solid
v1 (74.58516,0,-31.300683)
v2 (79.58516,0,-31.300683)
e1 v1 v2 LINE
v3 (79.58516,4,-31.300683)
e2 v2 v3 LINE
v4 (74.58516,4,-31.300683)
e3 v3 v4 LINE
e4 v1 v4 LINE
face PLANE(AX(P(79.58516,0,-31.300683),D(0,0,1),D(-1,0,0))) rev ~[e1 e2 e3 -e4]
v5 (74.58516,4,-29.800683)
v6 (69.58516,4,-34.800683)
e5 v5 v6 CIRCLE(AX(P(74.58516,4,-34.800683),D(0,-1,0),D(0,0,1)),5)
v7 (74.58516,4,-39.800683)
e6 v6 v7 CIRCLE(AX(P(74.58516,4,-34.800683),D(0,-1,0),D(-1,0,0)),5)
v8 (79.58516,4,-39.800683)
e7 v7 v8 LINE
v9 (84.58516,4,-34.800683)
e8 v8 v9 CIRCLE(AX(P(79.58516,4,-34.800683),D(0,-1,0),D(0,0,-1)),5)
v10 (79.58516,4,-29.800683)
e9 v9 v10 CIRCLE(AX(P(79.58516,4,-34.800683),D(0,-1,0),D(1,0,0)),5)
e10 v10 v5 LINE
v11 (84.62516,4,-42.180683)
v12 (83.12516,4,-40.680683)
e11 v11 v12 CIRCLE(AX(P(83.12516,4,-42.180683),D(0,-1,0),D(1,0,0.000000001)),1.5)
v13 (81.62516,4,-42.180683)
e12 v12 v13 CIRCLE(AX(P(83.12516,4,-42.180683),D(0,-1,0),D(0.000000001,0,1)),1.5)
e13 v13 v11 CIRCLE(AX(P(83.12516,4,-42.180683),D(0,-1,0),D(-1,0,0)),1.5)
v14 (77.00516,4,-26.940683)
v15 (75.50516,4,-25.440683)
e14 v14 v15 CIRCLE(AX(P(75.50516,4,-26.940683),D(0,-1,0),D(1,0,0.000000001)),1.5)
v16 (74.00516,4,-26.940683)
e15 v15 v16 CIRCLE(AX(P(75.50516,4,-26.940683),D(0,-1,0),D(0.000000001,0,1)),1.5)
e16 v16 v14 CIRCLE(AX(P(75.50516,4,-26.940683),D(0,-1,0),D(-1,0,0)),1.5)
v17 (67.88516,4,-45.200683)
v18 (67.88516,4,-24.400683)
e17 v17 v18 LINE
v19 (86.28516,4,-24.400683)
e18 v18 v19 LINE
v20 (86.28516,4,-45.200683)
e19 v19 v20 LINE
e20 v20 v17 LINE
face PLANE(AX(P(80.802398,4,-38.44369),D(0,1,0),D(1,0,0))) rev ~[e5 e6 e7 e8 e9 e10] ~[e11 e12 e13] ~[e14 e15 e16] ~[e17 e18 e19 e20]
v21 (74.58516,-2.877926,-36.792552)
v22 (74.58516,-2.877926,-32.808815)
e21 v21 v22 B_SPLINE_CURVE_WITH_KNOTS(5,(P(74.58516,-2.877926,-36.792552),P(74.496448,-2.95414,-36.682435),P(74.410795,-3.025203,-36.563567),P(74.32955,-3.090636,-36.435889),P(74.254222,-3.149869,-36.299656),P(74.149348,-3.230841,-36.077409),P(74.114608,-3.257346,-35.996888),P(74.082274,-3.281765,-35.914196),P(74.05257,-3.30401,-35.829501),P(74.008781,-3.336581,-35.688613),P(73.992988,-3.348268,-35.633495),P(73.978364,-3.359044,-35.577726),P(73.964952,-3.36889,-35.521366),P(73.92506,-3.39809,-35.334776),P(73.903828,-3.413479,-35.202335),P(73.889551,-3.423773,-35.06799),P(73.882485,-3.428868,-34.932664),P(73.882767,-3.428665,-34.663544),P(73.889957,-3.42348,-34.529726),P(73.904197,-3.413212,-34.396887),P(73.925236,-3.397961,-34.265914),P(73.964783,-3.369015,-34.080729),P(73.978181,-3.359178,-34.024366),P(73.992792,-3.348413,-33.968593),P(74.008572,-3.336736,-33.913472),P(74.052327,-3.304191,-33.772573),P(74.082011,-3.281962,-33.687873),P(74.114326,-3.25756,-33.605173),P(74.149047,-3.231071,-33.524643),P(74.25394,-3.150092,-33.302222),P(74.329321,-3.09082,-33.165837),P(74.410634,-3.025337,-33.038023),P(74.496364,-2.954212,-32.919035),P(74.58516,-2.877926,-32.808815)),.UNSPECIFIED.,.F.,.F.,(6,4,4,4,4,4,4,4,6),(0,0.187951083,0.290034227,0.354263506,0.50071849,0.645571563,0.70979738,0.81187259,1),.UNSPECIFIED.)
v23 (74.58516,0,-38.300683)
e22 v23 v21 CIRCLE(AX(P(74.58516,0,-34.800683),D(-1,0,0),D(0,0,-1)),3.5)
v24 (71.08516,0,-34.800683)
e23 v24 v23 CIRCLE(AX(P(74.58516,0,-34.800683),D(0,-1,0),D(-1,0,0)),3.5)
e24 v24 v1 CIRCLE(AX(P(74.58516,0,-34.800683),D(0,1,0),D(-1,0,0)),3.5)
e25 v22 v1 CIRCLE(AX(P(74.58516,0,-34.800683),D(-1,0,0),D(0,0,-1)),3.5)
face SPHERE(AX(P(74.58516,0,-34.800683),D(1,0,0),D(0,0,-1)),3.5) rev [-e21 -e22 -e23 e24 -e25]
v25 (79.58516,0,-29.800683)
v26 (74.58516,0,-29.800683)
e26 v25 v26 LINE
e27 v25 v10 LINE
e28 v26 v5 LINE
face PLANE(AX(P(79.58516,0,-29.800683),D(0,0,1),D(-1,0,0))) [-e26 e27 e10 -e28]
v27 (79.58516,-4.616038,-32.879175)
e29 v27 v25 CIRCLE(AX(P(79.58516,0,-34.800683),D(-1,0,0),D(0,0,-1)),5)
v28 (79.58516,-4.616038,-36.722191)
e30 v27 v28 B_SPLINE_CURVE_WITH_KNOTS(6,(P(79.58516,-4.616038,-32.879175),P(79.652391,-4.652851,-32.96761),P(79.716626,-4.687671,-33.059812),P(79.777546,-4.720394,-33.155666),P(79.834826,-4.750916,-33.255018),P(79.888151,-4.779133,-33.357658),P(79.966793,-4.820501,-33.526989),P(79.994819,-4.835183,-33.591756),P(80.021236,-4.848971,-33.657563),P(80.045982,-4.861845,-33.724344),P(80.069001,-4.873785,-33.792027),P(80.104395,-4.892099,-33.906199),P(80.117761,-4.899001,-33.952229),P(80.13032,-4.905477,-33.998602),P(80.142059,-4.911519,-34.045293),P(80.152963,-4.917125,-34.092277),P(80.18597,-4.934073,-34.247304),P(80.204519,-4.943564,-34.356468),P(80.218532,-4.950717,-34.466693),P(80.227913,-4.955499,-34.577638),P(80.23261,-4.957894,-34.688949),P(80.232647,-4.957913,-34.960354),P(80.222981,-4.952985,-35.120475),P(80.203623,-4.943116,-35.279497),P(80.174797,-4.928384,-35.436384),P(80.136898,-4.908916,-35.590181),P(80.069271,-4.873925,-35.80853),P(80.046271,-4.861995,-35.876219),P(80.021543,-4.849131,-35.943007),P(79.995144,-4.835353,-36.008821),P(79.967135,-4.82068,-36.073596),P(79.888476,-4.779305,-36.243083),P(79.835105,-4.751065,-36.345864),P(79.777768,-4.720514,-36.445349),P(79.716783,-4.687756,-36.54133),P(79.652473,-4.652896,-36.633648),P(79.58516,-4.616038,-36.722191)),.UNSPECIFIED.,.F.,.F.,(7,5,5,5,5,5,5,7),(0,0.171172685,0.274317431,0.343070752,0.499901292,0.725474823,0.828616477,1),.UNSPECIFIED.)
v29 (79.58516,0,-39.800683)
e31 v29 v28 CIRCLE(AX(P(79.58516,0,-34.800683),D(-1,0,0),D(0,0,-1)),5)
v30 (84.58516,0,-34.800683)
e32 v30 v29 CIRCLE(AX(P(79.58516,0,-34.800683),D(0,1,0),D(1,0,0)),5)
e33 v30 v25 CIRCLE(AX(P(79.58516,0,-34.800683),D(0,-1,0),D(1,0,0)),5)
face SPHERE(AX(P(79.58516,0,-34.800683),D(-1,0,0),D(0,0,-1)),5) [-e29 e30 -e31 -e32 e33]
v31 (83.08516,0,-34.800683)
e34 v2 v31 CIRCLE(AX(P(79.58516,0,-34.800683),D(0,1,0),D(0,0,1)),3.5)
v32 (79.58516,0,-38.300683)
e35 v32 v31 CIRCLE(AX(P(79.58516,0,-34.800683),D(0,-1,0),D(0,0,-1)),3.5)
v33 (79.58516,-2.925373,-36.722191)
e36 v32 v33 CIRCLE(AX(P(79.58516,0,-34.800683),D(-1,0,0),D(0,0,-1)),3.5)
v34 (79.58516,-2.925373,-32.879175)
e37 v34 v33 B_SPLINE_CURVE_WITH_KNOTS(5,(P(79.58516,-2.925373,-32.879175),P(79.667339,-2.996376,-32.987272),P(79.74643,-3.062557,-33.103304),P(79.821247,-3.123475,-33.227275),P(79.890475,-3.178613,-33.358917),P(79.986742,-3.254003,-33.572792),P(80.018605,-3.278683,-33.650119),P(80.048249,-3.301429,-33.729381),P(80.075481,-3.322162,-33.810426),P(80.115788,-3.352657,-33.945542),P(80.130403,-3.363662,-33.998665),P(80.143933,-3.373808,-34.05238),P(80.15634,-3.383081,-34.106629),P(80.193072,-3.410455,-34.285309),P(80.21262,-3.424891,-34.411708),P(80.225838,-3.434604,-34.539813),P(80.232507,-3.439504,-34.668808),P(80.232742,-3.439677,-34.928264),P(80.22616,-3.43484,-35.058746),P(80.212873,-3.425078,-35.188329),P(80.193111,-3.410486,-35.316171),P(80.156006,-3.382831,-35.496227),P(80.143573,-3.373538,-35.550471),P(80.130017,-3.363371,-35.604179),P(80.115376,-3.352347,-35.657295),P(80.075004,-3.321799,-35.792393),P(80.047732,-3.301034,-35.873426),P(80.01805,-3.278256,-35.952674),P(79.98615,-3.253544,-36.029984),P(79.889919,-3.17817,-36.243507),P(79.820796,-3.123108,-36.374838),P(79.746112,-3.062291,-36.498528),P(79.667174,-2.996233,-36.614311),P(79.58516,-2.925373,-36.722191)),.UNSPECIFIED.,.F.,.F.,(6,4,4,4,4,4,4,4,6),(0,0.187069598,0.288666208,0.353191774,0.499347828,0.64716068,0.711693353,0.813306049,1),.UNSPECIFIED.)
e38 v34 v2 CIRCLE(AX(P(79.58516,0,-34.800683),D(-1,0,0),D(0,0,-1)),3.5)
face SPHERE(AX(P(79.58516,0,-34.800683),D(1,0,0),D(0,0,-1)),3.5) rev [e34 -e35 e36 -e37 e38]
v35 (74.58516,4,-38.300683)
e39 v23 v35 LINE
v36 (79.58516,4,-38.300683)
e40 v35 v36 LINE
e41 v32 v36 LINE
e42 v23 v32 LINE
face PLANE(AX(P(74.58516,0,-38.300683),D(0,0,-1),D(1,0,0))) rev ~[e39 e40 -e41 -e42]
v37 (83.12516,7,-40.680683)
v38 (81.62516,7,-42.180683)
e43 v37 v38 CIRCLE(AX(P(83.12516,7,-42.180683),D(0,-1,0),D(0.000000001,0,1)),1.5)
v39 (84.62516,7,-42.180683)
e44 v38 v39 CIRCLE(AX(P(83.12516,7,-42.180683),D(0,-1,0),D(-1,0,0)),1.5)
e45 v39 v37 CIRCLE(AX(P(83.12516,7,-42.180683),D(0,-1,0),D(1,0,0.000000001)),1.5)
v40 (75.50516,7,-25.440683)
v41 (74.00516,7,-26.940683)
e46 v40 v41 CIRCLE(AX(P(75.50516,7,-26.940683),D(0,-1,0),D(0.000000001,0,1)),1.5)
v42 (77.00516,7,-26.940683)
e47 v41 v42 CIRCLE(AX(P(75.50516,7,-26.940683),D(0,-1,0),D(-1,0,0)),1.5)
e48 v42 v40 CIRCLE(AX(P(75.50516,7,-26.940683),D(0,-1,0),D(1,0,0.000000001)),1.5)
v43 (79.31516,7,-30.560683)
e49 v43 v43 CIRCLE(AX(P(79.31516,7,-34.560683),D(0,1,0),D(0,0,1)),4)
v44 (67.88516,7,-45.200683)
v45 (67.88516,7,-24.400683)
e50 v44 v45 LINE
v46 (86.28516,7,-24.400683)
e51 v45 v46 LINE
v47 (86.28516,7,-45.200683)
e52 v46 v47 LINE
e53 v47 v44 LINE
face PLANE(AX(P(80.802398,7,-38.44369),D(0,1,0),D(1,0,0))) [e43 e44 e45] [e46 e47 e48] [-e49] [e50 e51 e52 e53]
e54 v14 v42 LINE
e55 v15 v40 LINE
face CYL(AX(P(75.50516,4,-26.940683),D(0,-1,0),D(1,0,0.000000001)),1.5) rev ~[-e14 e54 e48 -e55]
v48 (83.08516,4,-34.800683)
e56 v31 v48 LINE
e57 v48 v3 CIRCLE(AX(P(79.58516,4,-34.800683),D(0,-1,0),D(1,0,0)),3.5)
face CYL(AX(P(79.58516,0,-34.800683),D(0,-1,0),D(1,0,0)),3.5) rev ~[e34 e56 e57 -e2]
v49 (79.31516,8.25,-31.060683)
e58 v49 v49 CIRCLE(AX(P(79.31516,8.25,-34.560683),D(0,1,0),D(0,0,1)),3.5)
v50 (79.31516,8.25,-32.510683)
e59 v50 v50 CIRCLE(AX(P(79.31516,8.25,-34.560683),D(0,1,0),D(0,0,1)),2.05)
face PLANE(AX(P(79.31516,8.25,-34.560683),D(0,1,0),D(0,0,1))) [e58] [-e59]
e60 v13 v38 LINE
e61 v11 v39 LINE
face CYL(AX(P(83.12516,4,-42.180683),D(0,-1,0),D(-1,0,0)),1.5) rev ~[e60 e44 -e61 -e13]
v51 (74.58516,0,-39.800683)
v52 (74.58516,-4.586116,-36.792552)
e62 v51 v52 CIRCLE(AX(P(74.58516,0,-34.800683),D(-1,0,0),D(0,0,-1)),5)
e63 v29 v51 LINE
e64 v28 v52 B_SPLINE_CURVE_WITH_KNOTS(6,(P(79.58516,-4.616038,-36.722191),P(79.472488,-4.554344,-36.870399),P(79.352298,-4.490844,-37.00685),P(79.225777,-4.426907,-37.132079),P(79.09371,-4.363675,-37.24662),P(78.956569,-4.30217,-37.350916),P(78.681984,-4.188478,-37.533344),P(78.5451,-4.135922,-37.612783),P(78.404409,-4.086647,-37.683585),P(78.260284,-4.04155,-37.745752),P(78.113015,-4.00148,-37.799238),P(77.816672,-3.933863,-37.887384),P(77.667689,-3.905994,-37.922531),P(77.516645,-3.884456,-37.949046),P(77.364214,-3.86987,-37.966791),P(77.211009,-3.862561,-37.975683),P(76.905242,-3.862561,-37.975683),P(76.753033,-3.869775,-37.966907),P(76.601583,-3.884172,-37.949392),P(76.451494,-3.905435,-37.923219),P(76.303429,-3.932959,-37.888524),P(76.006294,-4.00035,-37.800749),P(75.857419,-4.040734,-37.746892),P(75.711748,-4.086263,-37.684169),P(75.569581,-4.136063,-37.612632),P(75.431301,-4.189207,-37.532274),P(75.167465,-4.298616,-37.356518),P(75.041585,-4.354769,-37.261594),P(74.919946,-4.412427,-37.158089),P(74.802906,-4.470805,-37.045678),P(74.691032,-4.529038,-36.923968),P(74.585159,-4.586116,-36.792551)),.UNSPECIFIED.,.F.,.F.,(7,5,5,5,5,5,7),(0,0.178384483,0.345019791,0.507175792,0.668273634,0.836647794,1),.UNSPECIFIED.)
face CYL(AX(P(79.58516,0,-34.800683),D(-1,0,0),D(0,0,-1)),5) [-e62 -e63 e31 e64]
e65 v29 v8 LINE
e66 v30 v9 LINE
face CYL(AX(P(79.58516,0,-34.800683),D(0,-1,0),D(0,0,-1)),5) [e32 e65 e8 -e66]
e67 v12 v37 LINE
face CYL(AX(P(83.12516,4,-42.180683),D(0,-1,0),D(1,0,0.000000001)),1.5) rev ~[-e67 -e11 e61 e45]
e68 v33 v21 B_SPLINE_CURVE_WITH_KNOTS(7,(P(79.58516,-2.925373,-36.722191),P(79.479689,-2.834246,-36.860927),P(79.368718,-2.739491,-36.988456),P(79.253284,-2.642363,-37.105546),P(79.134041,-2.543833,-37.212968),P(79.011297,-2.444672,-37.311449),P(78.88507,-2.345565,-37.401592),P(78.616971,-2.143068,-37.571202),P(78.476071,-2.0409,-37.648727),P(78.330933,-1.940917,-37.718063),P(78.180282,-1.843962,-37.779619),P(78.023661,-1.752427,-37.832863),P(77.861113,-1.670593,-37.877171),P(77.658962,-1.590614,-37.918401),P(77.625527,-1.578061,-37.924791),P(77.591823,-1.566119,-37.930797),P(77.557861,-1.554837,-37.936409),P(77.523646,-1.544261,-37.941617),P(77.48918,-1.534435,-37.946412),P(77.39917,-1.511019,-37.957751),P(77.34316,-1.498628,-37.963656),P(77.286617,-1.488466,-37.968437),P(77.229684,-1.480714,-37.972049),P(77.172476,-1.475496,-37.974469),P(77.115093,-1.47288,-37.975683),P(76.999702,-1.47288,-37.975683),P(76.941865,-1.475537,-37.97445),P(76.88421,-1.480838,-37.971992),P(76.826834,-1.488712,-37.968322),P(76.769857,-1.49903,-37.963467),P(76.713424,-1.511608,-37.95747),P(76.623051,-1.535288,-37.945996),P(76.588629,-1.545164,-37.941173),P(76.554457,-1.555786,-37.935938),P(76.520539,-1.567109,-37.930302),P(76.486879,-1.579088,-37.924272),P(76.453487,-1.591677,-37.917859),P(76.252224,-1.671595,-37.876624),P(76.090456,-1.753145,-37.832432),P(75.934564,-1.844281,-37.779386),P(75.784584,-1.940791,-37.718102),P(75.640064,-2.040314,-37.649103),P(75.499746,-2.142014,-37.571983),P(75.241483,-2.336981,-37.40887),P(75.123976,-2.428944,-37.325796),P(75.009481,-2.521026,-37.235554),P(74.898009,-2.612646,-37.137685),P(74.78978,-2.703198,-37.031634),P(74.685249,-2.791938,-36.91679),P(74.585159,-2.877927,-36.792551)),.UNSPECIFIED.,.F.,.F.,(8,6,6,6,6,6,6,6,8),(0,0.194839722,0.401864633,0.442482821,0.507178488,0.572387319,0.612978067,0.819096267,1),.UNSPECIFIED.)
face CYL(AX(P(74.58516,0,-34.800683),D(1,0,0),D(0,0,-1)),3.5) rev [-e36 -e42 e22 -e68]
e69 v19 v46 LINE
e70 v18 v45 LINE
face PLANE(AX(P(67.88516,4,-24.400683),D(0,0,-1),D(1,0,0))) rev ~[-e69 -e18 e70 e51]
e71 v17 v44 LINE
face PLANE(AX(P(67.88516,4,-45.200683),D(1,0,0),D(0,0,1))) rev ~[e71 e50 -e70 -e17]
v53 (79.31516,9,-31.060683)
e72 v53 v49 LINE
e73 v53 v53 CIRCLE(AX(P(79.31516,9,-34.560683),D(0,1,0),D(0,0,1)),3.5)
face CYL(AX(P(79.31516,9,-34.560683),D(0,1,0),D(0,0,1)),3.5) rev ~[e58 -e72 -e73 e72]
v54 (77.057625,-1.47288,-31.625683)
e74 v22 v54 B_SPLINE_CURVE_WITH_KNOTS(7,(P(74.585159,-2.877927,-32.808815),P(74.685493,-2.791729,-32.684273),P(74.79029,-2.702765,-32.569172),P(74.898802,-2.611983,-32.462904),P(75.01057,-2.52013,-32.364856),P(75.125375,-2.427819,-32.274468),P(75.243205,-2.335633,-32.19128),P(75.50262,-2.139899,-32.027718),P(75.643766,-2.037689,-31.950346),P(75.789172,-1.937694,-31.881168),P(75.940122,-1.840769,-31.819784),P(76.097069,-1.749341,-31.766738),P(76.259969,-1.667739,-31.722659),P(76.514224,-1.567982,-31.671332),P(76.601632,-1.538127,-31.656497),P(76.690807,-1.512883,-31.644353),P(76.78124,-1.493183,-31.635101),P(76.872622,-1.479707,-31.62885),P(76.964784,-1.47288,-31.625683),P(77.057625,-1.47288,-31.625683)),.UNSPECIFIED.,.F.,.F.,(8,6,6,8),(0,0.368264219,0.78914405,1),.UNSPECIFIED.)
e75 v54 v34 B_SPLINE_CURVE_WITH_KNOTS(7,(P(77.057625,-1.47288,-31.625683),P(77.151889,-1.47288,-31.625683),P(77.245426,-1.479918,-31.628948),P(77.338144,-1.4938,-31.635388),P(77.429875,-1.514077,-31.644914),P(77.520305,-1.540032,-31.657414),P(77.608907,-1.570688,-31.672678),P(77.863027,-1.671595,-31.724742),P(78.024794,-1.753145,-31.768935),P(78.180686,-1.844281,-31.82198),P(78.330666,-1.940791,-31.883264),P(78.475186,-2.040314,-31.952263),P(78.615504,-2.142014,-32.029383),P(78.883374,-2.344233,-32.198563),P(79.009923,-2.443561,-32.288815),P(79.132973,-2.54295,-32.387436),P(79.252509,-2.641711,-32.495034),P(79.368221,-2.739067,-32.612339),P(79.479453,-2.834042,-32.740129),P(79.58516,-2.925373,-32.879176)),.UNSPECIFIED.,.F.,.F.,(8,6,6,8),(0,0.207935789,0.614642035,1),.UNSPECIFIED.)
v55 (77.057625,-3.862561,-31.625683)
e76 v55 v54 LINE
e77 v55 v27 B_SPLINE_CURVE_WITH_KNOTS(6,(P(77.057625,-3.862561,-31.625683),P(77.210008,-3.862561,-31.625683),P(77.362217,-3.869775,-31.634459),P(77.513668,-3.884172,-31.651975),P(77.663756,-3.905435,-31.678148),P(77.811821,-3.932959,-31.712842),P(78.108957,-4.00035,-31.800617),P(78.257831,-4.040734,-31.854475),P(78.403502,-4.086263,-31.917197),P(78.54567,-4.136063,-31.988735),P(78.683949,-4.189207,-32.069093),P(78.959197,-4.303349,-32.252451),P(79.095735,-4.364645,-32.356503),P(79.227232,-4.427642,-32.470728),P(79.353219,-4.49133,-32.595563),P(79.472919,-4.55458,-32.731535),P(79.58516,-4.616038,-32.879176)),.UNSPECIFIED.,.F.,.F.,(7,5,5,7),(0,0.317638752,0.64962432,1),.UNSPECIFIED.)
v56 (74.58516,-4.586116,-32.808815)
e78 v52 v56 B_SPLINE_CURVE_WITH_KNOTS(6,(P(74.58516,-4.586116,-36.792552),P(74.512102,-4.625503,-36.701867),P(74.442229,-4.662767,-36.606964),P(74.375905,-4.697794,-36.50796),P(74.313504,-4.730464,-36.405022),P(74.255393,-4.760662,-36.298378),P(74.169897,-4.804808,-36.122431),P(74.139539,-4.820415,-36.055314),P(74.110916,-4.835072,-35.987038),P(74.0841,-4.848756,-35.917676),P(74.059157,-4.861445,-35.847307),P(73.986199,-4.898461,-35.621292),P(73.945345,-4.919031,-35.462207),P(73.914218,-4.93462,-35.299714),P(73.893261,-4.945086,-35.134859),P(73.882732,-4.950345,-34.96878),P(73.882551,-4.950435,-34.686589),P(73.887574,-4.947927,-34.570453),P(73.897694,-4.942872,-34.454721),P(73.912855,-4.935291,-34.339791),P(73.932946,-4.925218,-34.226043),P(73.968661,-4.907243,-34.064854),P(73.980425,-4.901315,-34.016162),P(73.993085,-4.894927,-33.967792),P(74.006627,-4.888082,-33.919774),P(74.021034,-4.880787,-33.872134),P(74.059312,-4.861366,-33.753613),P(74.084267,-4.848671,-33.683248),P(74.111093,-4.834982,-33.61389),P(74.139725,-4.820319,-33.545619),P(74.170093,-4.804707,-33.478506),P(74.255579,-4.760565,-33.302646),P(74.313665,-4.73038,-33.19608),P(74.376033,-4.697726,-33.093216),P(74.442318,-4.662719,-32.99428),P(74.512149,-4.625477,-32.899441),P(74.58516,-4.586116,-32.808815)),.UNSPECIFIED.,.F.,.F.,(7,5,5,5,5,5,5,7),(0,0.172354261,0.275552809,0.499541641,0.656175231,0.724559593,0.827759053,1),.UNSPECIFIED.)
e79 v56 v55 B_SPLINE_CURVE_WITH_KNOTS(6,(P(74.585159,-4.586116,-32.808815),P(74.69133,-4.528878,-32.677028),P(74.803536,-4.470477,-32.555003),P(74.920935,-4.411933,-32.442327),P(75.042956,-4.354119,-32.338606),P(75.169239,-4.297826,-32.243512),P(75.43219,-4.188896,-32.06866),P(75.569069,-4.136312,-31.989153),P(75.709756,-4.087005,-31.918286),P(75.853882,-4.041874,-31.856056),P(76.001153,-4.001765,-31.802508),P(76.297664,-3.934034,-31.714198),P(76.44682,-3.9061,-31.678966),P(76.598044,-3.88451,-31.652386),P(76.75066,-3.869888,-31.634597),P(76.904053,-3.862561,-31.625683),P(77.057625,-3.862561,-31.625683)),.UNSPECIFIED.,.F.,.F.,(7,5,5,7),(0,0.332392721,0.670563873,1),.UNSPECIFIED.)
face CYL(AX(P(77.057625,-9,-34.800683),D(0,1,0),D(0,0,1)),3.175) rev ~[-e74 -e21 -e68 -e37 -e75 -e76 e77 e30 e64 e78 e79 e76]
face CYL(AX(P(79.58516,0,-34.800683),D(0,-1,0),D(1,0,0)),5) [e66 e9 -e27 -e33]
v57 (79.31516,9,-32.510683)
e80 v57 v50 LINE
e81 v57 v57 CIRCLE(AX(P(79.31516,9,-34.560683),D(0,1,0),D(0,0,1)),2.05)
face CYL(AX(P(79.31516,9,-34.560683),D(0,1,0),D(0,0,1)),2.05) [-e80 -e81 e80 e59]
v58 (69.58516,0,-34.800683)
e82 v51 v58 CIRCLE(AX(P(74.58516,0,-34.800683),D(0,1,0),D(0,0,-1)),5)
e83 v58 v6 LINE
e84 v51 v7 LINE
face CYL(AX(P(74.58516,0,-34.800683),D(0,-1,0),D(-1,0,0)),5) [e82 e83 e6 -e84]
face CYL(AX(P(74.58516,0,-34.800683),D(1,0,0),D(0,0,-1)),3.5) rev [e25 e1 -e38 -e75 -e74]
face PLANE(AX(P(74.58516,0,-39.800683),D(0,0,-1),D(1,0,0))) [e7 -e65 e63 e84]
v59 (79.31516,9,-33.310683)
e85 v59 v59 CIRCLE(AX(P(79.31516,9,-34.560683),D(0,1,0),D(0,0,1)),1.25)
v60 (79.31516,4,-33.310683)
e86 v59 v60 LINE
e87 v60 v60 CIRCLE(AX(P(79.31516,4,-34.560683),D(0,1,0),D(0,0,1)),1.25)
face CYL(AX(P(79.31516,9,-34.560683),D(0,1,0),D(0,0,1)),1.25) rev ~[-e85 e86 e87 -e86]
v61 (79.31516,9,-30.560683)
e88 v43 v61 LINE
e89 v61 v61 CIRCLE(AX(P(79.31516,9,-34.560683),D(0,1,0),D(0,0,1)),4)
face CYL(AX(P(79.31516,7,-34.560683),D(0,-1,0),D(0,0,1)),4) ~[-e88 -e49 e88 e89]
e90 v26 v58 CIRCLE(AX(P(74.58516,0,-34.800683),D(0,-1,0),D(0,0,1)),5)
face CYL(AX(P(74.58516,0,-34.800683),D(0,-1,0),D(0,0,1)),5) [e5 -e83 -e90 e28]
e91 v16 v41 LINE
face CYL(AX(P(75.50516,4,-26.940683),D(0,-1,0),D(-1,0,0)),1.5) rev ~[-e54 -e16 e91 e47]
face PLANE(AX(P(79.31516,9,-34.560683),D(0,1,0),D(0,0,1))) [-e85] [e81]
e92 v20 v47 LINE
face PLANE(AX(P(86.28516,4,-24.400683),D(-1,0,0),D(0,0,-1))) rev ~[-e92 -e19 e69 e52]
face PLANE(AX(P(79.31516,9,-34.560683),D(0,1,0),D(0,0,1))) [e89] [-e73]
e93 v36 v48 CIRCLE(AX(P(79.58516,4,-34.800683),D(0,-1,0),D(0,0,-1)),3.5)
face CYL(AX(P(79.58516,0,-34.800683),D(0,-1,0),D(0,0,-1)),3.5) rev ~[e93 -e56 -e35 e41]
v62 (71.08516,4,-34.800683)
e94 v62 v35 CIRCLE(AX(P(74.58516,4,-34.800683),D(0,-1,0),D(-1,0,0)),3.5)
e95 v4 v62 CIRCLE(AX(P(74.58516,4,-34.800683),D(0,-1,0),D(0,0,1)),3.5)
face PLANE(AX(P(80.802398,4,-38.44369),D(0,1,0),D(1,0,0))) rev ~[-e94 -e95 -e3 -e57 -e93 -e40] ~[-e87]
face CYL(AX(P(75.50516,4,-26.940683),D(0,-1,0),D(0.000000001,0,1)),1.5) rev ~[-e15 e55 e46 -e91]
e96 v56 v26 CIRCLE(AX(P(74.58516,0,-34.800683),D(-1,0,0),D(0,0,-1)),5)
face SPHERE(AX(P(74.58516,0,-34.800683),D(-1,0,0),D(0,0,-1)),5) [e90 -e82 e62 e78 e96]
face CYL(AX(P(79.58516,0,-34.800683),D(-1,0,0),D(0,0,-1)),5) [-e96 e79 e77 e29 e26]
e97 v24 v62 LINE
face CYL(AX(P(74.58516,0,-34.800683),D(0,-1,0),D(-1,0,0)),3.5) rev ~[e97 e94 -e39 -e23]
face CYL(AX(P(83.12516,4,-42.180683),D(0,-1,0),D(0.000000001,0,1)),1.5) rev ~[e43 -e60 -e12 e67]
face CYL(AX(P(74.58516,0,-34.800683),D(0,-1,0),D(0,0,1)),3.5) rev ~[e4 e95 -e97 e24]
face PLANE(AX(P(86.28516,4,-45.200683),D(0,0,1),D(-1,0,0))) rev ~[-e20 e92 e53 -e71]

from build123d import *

# Parameters (mm, degrees)
REVOLVE1_ANGLE                  = 180
BOSS_EXTRUDE2_DEPTH             = 4
BOSS_EXTRUDE4_DEPTH             = 3
SKETCH12_R                      = 4
BOSS_EXTRUDE5_DEPTH             = 2
CUT_EXTRUDE2_REACH              = 100.408
SKETCH13_R                      = 1.25
SKETCH14_R                      = 3.5
SKETCH14_R_2                    = 2.05
CUT_EXTRUDE3_DEPTH              = 0.75
F_1_4_0_25_DIAMETER_HOLE1_D     = 6.35
F_1_4_0_25_DIAMETER_HOLE1_DEPTH = 4
F_1_4_0_25_DIAMETER_HOLE1_TIP   = 1.907732465


with BuildPart() as part:
    # Sketch2 → Revolve1 (revolve)
    with BuildSketch(Plane(origin=(0, 0, 0), x_dir=(1, 0, 0), z_dir=(0, 1, 0))):
        with BuildLine():
            Line((79.585159762, 39.800683112), (74.585159762, 39.800683112))
            ThreePointArc((74.585159762, 39.800683112), (71.049625856, 38.336217018), (69.585159762, 34.800683112))
            Line((69.585159762, 34.800683112), (71.085159762, 34.800683112))
            ThreePointArc((71.085159762, 34.800683112), (72.110286027, 37.275556846), (74.585159762, 38.300683112))
            Line((74.585159762, 38.300683112), (79.585159762, 38.300683112))
            ThreePointArc((79.585159762, 38.300683112), (82.060033496, 37.275556846), (83.085159762, 34.800683112))
            Line((83.085159762, 34.800683112), (84.585159762, 34.800683112))
            ThreePointArc((84.585159762, 34.800683112), (83.120693668, 38.336217018), (79.585159762, 39.800683112))
        make_face()
    revolve(axis=Axis((74.585159762, 0, -34.800683112), (-1, 0, 0)), revolution_arc=REVOLVE1_ANGLE)

    # Sketch7 → Boss-Extrude2 (add)
    with BuildSketch(Plane(origin=(0, 0, 0), x_dir=(1, 0, 0), z_dir=(0, 1, 0))):
        with BuildLine():
            Line((74.585159762, 39.800683112), (79.585159762, 39.800683112))
            ThreePointArc((79.585159762, 39.800683112), (83.120693668, 38.336217018), (84.585159762, 34.800683112))
            ThreePointArc((84.585159762, 34.800683112), (83.120693668, 31.265149206), (79.585159762, 29.800683112))
            Line((79.585159762, 29.800683112), (74.585159762, 29.800683112))
            ThreePointArc((74.585159762, 29.800683112), (71.049625856, 31.265149206), (69.585159762, 34.800683112))
            ThreePointArc((69.585159762, 34.800683112), (71.049625856, 38.336217018), (74.585159762, 39.800683112))
        make_face()
        with BuildLine():
            Line((74.585159762, 38.300683112), (79.585159762, 38.300683112))
            ThreePointArc((79.585159762, 38.300683112), (82.060033496, 37.275556846), (83.085159762, 34.800683112))
            ThreePointArc((83.085159762, 34.800683112), (82.060033496, 32.325809378), (79.585159762, 31.300683112))
            Line((79.585159762, 31.300683112), (74.585159762, 31.300683112))
            ThreePointArc((74.585159762, 31.300683112), (72.110286027, 32.325809378), (71.085159762, 34.800683112))
            ThreePointArc((71.085159762, 34.800683112), (72.110286027, 37.275556846), (74.585159762, 38.300683112))
        make_face(mode=Mode.SUBTRACT)
    extrude(amount=BOSS_EXTRUDE2_DEPTH)

    # Sketch8 → Boss-Extrude4 (add)
    with BuildSketch(Plane(origin=(0, 4, 0), x_dir=(1, 0, 0), z_dir=(0, 1, 0))):
        with BuildLine():
            Line((86.285159762, 45.200683112), (67.885159762, 45.200683112))
            Line((67.885159762, 45.200683112), (67.885159762, 42.180683112))
            Line((67.885159762, 42.180683112), (81.625159762, 42.180683112))
            ThreePointArc((81.625159762, 42.180683112), (83.125159762, 43.680683112), (84.625159762, 42.180683112))
            ThreePointArc((84.625159762, 42.180683112), (84.185819933, 41.12002294), (83.125159762, 40.680683112))
            Line((83.125159762, 40.680683112), (83.125159762, 38.331745275))
            ThreePointArc((83.125159762, 38.331745275), (84.585159762, 34.800683112), (83.125159762, 31.269620949))
            Line((83.125159762, 31.269620949), (83.125159762, 24.400683112))
            Line((83.125159762, 24.400683112), (86.285159762, 24.400683112))
            Line((86.285159762, 24.400683112), (86.285159762, 45.200683112))
        make_face()
        with BuildLine():
            Line((81.625159762, 42.180683112), (67.885159762, 42.180683112))
            Line((67.885159762, 42.180683112), (67.885159762, 34.560683112))
            Line((67.885159762, 34.560683112), (69.590923083, 34.560683112))
            ThreePointArc((69.590923083, 34.560683112), (70.965767547, 38.250320774), (74.585159762, 39.800683112))
            Line((74.585159762, 39.800683112), (79.585159762, 39.800683112))
            ThreePointArc((79.585159762, 39.800683112), (81.501496004, 39.418870571), (83.125159762, 38.331745275))
            Line((83.125159762, 38.331745275), (83.125159762, 40.680683112))
            ThreePointArc((83.125159762, 40.680683112), (82.06449959, 41.12002294), (81.625159762, 42.180683112))
        make_face()
        with BuildLine():
            ThreePointArc((74.585159762, 39.800683112), (70.965767547, 38.250320774), (69.590923083, 34.560683112))
            Line((69.590923083, 34.560683112), (71.093398029, 34.560683112))
            ThreePointArc((71.093398029, 34.560683112), (72.02684, 37.189197295), (74.585159762, 38.300683112))
            Line((74.585159762, 38.300683112), (79.585159762, 38.300683112))
            ThreePointArc((79.585159762, 38.300683112), (83.085159762, 34.800683112), (79.585159762, 31.300683112))
            Line((79.585159762, 31.300683112), (79.315159762, 31.300683112))
            Line((79.315159762, 31.300683112), (79.315159762, 29.800683112))
            Line((79.315159762, 29.800683112), (79.585159762, 29.800683112))
            ThreePointArc((79.585159762, 29.800683112), (81.501496004, 30.182495653), (83.125159762, 31.269620949))
            Line((83.125159762, 31.269620949), (83.125159762, 38.331745275))
            ThreePointArc((83.125159762, 38.331745275), (81.501496004, 39.418870571), (79.585159762, 39.800683112))
            Line((79.585159762, 39.800683112), (74.585159762, 39.800683112))
        make_face()
        with BuildLine():
            Line((83.125159762, 38.331745275), (83.125159762, 31.269620949))
            ThreePointArc((83.125159762, 31.269620949), (84.585159762, 34.800683112), (83.125159762, 38.331745275))
        make_face()
        with BuildLine():
            ThreePointArc((74.585159762, 38.300683112), (72.02684, 37.189197295), (71.093398029, 34.560683112))
            Line((71.093398029, 34.560683112), (79.315159762, 34.560683112))
            Line((79.315159762, 34.560683112), (79.315159762, 31.300683112))
            Line((79.315159762, 31.300683112), (79.585159762, 31.300683112))
            ThreePointArc((79.585159762, 31.300683112), (83.085159762, 34.800683112), (79.585159762, 38.300683112))
            Line((79.585159762, 38.300683112), (74.585159762, 38.300683112))
        make_face()
        with BuildLine():
            Line((71.093398029, 34.560683112), (69.590923083, 34.560683112))
            ThreePointArc((69.590923083, 34.560683112), (71.135522099, 31.181290898), (74.585159762, 29.800683112))
            Line((74.585159762, 29.800683112), (79.315159762, 29.800683112))
            Line((79.315159762, 29.800683112), (79.315159762, 31.300683112))
            Line((79.315159762, 31.300683112), (74.585159762, 31.300683112))
            ThreePointArc((74.585159762, 31.300683112), (72.196645579, 32.242363351), (71.093398029, 34.560683112))
        make_face()
        with BuildLine():
            Line((79.315159762, 34.560683112), (71.093398029, 34.560683112))
            ThreePointArc((71.093398029, 34.560683112), (72.196645579, 32.242363351), (74.585159762, 31.300683112))
            Line((74.585159762, 31.300683112), (79.315159762, 31.300683112))
            Line((79.315159762, 31.300683112), (79.315159762, 34.560683112))
        make_face()
        with BuildLine():
            Line((74.005159762, 26.940683112), (67.885159762, 26.940683112))
            Line((67.885159762, 26.940683112), (67.885159762, 24.400683112))
            Line((67.885159762, 24.400683112), (75.505159762, 24.400683112))
            Line((75.505159762, 24.400683112), (75.505159762, 25.440683112))
            ThreePointArc((75.505159762, 25.440683112), (74.44449959, 25.88002294), (74.005159762, 26.940683112))
        make_face()
        with BuildLine():
            Line((79.315159762, 24.400683112), (83.125159762, 24.400683112))
            Line((83.125159762, 24.400683112), (83.125159762, 31.269620949))
            ThreePointArc((83.125159762, 31.269620949), (81.501496004, 30.182495653), (79.585159762, 29.800683112))
            Line((79.585159762, 29.800683112), (79.315159762, 29.800683112))
            Line((79.315159762, 29.800683112), (79.315159762, 24.400683112))
        make_face()
        with BuildLine():
            Line((69.590923083, 34.560683112), (67.885159762, 34.560683112))
            Line((67.885159762, 34.560683112), (67.885159762, 26.940683112))
            Line((67.885159762, 26.940683112), (74.005159762, 26.940683112))
            ThreePointArc((74.005159762, 26.940683112), (75.505159762, 28.440683112), (77.005159762, 26.940683112))
            ThreePointArc((77.005159762, 26.940683112), (76.565819933, 25.88002294), (75.505159762, 25.440683112))
            Line((75.505159762, 25.440683112), (75.505159762, 24.400683112))
            Line((75.505159762, 24.400683112), (79.315159762, 24.400683112))
            Line((79.315159762, 24.400683112), (79.315159762, 29.800683112))
            Line((79.315159762, 29.800683112), (74.585159762, 29.800683112))
            ThreePointArc((74.585159762, 29.800683112), (71.135522099, 31.181290898), (69.590923083, 34.560683112))
        make_face()
    extrude(amount=BOSS_EXTRUDE4_DEPTH)

    # Sketch12 → Boss-Extrude5 (add)
    with BuildSketch(Plane(origin=(0, 7, 0), x_dir=(1, 0, 0), z_dir=(0, 1, 0))):
        with Locations(Location((79.315159762, 34.560683112, 0), (0, 0, 270))):
            Circle(SKETCH12_R)
    extrude(amount=BOSS_EXTRUDE5_DEPTH)

    # Sketch13 → Cut-Extrude2 (cut, up to next)
    with BuildSketch(Plane(origin=(0, 9, 0), x_dir=(1, 0, 0), z_dir=(0, 1, 0)), mode=Mode.PRIVATE) as cut_extrude2_sk1:
        with Locations(Location((79.315159762, 34.560683112, 0), (0, 0, 270))):
            Circle(SKETCH13_R)
    cut_extrude2_tool1 = extrude(cut_extrude2_sk1.sketch, amount=-CUT_EXTRUDE2_REACH, mode=Mode.PRIVATE) & part.part
    add(cut_extrude2_tool1.solids().sort_by_distance((79.31516, 9, -34.560683))[0], mode=Mode.SUBTRACT)

    # Sketch14 → Cut-Extrude3 (cut)
    with BuildSketch(Plane(origin=(0, 9, 0), x_dir=(1, 0, 0), z_dir=(0, 1, 0))):
        with Locations(Location((79.315159762, 34.560683112, 0), (0, 0, 270))):
            Circle(SKETCH14_R)
        with Locations(Location((79.315159762, 34.560683112, 0), (0, 0, 270))):
            Circle(SKETCH14_R_2, mode=Mode.SUBTRACT)
    extrude(amount=-CUT_EXTRUDE3_DEPTH, mode=Mode.SUBTRACT)

    # 1/4 (0.25) Diameter Hole1
    with Locations(Plane(origin=(77.057625156, -5, -34.800683112), x_dir=(0, 0, -1), z_dir=(0, -1, 0))):
        with Locations((0, 0)):
            Hole(F_1_4_0_25_DIAMETER_HOLE1_D / 2, depth=F_1_4_0_25_DIAMETER_HOLE1_DEPTH)
            with Locations((0, 0, -(F_1_4_0_25_DIAMETER_HOLE1_DEPTH + F_1_4_0_25_DIAMETER_HOLE1_TIP / 2))):  # 118° drill point
                Cone(0, F_1_4_0_25_DIAMETER_HOLE1_D / 2, F_1_4_0_25_DIAMETER_HOLE1_TIP, mode=Mode.SUBTRACT)


solid = part.part
